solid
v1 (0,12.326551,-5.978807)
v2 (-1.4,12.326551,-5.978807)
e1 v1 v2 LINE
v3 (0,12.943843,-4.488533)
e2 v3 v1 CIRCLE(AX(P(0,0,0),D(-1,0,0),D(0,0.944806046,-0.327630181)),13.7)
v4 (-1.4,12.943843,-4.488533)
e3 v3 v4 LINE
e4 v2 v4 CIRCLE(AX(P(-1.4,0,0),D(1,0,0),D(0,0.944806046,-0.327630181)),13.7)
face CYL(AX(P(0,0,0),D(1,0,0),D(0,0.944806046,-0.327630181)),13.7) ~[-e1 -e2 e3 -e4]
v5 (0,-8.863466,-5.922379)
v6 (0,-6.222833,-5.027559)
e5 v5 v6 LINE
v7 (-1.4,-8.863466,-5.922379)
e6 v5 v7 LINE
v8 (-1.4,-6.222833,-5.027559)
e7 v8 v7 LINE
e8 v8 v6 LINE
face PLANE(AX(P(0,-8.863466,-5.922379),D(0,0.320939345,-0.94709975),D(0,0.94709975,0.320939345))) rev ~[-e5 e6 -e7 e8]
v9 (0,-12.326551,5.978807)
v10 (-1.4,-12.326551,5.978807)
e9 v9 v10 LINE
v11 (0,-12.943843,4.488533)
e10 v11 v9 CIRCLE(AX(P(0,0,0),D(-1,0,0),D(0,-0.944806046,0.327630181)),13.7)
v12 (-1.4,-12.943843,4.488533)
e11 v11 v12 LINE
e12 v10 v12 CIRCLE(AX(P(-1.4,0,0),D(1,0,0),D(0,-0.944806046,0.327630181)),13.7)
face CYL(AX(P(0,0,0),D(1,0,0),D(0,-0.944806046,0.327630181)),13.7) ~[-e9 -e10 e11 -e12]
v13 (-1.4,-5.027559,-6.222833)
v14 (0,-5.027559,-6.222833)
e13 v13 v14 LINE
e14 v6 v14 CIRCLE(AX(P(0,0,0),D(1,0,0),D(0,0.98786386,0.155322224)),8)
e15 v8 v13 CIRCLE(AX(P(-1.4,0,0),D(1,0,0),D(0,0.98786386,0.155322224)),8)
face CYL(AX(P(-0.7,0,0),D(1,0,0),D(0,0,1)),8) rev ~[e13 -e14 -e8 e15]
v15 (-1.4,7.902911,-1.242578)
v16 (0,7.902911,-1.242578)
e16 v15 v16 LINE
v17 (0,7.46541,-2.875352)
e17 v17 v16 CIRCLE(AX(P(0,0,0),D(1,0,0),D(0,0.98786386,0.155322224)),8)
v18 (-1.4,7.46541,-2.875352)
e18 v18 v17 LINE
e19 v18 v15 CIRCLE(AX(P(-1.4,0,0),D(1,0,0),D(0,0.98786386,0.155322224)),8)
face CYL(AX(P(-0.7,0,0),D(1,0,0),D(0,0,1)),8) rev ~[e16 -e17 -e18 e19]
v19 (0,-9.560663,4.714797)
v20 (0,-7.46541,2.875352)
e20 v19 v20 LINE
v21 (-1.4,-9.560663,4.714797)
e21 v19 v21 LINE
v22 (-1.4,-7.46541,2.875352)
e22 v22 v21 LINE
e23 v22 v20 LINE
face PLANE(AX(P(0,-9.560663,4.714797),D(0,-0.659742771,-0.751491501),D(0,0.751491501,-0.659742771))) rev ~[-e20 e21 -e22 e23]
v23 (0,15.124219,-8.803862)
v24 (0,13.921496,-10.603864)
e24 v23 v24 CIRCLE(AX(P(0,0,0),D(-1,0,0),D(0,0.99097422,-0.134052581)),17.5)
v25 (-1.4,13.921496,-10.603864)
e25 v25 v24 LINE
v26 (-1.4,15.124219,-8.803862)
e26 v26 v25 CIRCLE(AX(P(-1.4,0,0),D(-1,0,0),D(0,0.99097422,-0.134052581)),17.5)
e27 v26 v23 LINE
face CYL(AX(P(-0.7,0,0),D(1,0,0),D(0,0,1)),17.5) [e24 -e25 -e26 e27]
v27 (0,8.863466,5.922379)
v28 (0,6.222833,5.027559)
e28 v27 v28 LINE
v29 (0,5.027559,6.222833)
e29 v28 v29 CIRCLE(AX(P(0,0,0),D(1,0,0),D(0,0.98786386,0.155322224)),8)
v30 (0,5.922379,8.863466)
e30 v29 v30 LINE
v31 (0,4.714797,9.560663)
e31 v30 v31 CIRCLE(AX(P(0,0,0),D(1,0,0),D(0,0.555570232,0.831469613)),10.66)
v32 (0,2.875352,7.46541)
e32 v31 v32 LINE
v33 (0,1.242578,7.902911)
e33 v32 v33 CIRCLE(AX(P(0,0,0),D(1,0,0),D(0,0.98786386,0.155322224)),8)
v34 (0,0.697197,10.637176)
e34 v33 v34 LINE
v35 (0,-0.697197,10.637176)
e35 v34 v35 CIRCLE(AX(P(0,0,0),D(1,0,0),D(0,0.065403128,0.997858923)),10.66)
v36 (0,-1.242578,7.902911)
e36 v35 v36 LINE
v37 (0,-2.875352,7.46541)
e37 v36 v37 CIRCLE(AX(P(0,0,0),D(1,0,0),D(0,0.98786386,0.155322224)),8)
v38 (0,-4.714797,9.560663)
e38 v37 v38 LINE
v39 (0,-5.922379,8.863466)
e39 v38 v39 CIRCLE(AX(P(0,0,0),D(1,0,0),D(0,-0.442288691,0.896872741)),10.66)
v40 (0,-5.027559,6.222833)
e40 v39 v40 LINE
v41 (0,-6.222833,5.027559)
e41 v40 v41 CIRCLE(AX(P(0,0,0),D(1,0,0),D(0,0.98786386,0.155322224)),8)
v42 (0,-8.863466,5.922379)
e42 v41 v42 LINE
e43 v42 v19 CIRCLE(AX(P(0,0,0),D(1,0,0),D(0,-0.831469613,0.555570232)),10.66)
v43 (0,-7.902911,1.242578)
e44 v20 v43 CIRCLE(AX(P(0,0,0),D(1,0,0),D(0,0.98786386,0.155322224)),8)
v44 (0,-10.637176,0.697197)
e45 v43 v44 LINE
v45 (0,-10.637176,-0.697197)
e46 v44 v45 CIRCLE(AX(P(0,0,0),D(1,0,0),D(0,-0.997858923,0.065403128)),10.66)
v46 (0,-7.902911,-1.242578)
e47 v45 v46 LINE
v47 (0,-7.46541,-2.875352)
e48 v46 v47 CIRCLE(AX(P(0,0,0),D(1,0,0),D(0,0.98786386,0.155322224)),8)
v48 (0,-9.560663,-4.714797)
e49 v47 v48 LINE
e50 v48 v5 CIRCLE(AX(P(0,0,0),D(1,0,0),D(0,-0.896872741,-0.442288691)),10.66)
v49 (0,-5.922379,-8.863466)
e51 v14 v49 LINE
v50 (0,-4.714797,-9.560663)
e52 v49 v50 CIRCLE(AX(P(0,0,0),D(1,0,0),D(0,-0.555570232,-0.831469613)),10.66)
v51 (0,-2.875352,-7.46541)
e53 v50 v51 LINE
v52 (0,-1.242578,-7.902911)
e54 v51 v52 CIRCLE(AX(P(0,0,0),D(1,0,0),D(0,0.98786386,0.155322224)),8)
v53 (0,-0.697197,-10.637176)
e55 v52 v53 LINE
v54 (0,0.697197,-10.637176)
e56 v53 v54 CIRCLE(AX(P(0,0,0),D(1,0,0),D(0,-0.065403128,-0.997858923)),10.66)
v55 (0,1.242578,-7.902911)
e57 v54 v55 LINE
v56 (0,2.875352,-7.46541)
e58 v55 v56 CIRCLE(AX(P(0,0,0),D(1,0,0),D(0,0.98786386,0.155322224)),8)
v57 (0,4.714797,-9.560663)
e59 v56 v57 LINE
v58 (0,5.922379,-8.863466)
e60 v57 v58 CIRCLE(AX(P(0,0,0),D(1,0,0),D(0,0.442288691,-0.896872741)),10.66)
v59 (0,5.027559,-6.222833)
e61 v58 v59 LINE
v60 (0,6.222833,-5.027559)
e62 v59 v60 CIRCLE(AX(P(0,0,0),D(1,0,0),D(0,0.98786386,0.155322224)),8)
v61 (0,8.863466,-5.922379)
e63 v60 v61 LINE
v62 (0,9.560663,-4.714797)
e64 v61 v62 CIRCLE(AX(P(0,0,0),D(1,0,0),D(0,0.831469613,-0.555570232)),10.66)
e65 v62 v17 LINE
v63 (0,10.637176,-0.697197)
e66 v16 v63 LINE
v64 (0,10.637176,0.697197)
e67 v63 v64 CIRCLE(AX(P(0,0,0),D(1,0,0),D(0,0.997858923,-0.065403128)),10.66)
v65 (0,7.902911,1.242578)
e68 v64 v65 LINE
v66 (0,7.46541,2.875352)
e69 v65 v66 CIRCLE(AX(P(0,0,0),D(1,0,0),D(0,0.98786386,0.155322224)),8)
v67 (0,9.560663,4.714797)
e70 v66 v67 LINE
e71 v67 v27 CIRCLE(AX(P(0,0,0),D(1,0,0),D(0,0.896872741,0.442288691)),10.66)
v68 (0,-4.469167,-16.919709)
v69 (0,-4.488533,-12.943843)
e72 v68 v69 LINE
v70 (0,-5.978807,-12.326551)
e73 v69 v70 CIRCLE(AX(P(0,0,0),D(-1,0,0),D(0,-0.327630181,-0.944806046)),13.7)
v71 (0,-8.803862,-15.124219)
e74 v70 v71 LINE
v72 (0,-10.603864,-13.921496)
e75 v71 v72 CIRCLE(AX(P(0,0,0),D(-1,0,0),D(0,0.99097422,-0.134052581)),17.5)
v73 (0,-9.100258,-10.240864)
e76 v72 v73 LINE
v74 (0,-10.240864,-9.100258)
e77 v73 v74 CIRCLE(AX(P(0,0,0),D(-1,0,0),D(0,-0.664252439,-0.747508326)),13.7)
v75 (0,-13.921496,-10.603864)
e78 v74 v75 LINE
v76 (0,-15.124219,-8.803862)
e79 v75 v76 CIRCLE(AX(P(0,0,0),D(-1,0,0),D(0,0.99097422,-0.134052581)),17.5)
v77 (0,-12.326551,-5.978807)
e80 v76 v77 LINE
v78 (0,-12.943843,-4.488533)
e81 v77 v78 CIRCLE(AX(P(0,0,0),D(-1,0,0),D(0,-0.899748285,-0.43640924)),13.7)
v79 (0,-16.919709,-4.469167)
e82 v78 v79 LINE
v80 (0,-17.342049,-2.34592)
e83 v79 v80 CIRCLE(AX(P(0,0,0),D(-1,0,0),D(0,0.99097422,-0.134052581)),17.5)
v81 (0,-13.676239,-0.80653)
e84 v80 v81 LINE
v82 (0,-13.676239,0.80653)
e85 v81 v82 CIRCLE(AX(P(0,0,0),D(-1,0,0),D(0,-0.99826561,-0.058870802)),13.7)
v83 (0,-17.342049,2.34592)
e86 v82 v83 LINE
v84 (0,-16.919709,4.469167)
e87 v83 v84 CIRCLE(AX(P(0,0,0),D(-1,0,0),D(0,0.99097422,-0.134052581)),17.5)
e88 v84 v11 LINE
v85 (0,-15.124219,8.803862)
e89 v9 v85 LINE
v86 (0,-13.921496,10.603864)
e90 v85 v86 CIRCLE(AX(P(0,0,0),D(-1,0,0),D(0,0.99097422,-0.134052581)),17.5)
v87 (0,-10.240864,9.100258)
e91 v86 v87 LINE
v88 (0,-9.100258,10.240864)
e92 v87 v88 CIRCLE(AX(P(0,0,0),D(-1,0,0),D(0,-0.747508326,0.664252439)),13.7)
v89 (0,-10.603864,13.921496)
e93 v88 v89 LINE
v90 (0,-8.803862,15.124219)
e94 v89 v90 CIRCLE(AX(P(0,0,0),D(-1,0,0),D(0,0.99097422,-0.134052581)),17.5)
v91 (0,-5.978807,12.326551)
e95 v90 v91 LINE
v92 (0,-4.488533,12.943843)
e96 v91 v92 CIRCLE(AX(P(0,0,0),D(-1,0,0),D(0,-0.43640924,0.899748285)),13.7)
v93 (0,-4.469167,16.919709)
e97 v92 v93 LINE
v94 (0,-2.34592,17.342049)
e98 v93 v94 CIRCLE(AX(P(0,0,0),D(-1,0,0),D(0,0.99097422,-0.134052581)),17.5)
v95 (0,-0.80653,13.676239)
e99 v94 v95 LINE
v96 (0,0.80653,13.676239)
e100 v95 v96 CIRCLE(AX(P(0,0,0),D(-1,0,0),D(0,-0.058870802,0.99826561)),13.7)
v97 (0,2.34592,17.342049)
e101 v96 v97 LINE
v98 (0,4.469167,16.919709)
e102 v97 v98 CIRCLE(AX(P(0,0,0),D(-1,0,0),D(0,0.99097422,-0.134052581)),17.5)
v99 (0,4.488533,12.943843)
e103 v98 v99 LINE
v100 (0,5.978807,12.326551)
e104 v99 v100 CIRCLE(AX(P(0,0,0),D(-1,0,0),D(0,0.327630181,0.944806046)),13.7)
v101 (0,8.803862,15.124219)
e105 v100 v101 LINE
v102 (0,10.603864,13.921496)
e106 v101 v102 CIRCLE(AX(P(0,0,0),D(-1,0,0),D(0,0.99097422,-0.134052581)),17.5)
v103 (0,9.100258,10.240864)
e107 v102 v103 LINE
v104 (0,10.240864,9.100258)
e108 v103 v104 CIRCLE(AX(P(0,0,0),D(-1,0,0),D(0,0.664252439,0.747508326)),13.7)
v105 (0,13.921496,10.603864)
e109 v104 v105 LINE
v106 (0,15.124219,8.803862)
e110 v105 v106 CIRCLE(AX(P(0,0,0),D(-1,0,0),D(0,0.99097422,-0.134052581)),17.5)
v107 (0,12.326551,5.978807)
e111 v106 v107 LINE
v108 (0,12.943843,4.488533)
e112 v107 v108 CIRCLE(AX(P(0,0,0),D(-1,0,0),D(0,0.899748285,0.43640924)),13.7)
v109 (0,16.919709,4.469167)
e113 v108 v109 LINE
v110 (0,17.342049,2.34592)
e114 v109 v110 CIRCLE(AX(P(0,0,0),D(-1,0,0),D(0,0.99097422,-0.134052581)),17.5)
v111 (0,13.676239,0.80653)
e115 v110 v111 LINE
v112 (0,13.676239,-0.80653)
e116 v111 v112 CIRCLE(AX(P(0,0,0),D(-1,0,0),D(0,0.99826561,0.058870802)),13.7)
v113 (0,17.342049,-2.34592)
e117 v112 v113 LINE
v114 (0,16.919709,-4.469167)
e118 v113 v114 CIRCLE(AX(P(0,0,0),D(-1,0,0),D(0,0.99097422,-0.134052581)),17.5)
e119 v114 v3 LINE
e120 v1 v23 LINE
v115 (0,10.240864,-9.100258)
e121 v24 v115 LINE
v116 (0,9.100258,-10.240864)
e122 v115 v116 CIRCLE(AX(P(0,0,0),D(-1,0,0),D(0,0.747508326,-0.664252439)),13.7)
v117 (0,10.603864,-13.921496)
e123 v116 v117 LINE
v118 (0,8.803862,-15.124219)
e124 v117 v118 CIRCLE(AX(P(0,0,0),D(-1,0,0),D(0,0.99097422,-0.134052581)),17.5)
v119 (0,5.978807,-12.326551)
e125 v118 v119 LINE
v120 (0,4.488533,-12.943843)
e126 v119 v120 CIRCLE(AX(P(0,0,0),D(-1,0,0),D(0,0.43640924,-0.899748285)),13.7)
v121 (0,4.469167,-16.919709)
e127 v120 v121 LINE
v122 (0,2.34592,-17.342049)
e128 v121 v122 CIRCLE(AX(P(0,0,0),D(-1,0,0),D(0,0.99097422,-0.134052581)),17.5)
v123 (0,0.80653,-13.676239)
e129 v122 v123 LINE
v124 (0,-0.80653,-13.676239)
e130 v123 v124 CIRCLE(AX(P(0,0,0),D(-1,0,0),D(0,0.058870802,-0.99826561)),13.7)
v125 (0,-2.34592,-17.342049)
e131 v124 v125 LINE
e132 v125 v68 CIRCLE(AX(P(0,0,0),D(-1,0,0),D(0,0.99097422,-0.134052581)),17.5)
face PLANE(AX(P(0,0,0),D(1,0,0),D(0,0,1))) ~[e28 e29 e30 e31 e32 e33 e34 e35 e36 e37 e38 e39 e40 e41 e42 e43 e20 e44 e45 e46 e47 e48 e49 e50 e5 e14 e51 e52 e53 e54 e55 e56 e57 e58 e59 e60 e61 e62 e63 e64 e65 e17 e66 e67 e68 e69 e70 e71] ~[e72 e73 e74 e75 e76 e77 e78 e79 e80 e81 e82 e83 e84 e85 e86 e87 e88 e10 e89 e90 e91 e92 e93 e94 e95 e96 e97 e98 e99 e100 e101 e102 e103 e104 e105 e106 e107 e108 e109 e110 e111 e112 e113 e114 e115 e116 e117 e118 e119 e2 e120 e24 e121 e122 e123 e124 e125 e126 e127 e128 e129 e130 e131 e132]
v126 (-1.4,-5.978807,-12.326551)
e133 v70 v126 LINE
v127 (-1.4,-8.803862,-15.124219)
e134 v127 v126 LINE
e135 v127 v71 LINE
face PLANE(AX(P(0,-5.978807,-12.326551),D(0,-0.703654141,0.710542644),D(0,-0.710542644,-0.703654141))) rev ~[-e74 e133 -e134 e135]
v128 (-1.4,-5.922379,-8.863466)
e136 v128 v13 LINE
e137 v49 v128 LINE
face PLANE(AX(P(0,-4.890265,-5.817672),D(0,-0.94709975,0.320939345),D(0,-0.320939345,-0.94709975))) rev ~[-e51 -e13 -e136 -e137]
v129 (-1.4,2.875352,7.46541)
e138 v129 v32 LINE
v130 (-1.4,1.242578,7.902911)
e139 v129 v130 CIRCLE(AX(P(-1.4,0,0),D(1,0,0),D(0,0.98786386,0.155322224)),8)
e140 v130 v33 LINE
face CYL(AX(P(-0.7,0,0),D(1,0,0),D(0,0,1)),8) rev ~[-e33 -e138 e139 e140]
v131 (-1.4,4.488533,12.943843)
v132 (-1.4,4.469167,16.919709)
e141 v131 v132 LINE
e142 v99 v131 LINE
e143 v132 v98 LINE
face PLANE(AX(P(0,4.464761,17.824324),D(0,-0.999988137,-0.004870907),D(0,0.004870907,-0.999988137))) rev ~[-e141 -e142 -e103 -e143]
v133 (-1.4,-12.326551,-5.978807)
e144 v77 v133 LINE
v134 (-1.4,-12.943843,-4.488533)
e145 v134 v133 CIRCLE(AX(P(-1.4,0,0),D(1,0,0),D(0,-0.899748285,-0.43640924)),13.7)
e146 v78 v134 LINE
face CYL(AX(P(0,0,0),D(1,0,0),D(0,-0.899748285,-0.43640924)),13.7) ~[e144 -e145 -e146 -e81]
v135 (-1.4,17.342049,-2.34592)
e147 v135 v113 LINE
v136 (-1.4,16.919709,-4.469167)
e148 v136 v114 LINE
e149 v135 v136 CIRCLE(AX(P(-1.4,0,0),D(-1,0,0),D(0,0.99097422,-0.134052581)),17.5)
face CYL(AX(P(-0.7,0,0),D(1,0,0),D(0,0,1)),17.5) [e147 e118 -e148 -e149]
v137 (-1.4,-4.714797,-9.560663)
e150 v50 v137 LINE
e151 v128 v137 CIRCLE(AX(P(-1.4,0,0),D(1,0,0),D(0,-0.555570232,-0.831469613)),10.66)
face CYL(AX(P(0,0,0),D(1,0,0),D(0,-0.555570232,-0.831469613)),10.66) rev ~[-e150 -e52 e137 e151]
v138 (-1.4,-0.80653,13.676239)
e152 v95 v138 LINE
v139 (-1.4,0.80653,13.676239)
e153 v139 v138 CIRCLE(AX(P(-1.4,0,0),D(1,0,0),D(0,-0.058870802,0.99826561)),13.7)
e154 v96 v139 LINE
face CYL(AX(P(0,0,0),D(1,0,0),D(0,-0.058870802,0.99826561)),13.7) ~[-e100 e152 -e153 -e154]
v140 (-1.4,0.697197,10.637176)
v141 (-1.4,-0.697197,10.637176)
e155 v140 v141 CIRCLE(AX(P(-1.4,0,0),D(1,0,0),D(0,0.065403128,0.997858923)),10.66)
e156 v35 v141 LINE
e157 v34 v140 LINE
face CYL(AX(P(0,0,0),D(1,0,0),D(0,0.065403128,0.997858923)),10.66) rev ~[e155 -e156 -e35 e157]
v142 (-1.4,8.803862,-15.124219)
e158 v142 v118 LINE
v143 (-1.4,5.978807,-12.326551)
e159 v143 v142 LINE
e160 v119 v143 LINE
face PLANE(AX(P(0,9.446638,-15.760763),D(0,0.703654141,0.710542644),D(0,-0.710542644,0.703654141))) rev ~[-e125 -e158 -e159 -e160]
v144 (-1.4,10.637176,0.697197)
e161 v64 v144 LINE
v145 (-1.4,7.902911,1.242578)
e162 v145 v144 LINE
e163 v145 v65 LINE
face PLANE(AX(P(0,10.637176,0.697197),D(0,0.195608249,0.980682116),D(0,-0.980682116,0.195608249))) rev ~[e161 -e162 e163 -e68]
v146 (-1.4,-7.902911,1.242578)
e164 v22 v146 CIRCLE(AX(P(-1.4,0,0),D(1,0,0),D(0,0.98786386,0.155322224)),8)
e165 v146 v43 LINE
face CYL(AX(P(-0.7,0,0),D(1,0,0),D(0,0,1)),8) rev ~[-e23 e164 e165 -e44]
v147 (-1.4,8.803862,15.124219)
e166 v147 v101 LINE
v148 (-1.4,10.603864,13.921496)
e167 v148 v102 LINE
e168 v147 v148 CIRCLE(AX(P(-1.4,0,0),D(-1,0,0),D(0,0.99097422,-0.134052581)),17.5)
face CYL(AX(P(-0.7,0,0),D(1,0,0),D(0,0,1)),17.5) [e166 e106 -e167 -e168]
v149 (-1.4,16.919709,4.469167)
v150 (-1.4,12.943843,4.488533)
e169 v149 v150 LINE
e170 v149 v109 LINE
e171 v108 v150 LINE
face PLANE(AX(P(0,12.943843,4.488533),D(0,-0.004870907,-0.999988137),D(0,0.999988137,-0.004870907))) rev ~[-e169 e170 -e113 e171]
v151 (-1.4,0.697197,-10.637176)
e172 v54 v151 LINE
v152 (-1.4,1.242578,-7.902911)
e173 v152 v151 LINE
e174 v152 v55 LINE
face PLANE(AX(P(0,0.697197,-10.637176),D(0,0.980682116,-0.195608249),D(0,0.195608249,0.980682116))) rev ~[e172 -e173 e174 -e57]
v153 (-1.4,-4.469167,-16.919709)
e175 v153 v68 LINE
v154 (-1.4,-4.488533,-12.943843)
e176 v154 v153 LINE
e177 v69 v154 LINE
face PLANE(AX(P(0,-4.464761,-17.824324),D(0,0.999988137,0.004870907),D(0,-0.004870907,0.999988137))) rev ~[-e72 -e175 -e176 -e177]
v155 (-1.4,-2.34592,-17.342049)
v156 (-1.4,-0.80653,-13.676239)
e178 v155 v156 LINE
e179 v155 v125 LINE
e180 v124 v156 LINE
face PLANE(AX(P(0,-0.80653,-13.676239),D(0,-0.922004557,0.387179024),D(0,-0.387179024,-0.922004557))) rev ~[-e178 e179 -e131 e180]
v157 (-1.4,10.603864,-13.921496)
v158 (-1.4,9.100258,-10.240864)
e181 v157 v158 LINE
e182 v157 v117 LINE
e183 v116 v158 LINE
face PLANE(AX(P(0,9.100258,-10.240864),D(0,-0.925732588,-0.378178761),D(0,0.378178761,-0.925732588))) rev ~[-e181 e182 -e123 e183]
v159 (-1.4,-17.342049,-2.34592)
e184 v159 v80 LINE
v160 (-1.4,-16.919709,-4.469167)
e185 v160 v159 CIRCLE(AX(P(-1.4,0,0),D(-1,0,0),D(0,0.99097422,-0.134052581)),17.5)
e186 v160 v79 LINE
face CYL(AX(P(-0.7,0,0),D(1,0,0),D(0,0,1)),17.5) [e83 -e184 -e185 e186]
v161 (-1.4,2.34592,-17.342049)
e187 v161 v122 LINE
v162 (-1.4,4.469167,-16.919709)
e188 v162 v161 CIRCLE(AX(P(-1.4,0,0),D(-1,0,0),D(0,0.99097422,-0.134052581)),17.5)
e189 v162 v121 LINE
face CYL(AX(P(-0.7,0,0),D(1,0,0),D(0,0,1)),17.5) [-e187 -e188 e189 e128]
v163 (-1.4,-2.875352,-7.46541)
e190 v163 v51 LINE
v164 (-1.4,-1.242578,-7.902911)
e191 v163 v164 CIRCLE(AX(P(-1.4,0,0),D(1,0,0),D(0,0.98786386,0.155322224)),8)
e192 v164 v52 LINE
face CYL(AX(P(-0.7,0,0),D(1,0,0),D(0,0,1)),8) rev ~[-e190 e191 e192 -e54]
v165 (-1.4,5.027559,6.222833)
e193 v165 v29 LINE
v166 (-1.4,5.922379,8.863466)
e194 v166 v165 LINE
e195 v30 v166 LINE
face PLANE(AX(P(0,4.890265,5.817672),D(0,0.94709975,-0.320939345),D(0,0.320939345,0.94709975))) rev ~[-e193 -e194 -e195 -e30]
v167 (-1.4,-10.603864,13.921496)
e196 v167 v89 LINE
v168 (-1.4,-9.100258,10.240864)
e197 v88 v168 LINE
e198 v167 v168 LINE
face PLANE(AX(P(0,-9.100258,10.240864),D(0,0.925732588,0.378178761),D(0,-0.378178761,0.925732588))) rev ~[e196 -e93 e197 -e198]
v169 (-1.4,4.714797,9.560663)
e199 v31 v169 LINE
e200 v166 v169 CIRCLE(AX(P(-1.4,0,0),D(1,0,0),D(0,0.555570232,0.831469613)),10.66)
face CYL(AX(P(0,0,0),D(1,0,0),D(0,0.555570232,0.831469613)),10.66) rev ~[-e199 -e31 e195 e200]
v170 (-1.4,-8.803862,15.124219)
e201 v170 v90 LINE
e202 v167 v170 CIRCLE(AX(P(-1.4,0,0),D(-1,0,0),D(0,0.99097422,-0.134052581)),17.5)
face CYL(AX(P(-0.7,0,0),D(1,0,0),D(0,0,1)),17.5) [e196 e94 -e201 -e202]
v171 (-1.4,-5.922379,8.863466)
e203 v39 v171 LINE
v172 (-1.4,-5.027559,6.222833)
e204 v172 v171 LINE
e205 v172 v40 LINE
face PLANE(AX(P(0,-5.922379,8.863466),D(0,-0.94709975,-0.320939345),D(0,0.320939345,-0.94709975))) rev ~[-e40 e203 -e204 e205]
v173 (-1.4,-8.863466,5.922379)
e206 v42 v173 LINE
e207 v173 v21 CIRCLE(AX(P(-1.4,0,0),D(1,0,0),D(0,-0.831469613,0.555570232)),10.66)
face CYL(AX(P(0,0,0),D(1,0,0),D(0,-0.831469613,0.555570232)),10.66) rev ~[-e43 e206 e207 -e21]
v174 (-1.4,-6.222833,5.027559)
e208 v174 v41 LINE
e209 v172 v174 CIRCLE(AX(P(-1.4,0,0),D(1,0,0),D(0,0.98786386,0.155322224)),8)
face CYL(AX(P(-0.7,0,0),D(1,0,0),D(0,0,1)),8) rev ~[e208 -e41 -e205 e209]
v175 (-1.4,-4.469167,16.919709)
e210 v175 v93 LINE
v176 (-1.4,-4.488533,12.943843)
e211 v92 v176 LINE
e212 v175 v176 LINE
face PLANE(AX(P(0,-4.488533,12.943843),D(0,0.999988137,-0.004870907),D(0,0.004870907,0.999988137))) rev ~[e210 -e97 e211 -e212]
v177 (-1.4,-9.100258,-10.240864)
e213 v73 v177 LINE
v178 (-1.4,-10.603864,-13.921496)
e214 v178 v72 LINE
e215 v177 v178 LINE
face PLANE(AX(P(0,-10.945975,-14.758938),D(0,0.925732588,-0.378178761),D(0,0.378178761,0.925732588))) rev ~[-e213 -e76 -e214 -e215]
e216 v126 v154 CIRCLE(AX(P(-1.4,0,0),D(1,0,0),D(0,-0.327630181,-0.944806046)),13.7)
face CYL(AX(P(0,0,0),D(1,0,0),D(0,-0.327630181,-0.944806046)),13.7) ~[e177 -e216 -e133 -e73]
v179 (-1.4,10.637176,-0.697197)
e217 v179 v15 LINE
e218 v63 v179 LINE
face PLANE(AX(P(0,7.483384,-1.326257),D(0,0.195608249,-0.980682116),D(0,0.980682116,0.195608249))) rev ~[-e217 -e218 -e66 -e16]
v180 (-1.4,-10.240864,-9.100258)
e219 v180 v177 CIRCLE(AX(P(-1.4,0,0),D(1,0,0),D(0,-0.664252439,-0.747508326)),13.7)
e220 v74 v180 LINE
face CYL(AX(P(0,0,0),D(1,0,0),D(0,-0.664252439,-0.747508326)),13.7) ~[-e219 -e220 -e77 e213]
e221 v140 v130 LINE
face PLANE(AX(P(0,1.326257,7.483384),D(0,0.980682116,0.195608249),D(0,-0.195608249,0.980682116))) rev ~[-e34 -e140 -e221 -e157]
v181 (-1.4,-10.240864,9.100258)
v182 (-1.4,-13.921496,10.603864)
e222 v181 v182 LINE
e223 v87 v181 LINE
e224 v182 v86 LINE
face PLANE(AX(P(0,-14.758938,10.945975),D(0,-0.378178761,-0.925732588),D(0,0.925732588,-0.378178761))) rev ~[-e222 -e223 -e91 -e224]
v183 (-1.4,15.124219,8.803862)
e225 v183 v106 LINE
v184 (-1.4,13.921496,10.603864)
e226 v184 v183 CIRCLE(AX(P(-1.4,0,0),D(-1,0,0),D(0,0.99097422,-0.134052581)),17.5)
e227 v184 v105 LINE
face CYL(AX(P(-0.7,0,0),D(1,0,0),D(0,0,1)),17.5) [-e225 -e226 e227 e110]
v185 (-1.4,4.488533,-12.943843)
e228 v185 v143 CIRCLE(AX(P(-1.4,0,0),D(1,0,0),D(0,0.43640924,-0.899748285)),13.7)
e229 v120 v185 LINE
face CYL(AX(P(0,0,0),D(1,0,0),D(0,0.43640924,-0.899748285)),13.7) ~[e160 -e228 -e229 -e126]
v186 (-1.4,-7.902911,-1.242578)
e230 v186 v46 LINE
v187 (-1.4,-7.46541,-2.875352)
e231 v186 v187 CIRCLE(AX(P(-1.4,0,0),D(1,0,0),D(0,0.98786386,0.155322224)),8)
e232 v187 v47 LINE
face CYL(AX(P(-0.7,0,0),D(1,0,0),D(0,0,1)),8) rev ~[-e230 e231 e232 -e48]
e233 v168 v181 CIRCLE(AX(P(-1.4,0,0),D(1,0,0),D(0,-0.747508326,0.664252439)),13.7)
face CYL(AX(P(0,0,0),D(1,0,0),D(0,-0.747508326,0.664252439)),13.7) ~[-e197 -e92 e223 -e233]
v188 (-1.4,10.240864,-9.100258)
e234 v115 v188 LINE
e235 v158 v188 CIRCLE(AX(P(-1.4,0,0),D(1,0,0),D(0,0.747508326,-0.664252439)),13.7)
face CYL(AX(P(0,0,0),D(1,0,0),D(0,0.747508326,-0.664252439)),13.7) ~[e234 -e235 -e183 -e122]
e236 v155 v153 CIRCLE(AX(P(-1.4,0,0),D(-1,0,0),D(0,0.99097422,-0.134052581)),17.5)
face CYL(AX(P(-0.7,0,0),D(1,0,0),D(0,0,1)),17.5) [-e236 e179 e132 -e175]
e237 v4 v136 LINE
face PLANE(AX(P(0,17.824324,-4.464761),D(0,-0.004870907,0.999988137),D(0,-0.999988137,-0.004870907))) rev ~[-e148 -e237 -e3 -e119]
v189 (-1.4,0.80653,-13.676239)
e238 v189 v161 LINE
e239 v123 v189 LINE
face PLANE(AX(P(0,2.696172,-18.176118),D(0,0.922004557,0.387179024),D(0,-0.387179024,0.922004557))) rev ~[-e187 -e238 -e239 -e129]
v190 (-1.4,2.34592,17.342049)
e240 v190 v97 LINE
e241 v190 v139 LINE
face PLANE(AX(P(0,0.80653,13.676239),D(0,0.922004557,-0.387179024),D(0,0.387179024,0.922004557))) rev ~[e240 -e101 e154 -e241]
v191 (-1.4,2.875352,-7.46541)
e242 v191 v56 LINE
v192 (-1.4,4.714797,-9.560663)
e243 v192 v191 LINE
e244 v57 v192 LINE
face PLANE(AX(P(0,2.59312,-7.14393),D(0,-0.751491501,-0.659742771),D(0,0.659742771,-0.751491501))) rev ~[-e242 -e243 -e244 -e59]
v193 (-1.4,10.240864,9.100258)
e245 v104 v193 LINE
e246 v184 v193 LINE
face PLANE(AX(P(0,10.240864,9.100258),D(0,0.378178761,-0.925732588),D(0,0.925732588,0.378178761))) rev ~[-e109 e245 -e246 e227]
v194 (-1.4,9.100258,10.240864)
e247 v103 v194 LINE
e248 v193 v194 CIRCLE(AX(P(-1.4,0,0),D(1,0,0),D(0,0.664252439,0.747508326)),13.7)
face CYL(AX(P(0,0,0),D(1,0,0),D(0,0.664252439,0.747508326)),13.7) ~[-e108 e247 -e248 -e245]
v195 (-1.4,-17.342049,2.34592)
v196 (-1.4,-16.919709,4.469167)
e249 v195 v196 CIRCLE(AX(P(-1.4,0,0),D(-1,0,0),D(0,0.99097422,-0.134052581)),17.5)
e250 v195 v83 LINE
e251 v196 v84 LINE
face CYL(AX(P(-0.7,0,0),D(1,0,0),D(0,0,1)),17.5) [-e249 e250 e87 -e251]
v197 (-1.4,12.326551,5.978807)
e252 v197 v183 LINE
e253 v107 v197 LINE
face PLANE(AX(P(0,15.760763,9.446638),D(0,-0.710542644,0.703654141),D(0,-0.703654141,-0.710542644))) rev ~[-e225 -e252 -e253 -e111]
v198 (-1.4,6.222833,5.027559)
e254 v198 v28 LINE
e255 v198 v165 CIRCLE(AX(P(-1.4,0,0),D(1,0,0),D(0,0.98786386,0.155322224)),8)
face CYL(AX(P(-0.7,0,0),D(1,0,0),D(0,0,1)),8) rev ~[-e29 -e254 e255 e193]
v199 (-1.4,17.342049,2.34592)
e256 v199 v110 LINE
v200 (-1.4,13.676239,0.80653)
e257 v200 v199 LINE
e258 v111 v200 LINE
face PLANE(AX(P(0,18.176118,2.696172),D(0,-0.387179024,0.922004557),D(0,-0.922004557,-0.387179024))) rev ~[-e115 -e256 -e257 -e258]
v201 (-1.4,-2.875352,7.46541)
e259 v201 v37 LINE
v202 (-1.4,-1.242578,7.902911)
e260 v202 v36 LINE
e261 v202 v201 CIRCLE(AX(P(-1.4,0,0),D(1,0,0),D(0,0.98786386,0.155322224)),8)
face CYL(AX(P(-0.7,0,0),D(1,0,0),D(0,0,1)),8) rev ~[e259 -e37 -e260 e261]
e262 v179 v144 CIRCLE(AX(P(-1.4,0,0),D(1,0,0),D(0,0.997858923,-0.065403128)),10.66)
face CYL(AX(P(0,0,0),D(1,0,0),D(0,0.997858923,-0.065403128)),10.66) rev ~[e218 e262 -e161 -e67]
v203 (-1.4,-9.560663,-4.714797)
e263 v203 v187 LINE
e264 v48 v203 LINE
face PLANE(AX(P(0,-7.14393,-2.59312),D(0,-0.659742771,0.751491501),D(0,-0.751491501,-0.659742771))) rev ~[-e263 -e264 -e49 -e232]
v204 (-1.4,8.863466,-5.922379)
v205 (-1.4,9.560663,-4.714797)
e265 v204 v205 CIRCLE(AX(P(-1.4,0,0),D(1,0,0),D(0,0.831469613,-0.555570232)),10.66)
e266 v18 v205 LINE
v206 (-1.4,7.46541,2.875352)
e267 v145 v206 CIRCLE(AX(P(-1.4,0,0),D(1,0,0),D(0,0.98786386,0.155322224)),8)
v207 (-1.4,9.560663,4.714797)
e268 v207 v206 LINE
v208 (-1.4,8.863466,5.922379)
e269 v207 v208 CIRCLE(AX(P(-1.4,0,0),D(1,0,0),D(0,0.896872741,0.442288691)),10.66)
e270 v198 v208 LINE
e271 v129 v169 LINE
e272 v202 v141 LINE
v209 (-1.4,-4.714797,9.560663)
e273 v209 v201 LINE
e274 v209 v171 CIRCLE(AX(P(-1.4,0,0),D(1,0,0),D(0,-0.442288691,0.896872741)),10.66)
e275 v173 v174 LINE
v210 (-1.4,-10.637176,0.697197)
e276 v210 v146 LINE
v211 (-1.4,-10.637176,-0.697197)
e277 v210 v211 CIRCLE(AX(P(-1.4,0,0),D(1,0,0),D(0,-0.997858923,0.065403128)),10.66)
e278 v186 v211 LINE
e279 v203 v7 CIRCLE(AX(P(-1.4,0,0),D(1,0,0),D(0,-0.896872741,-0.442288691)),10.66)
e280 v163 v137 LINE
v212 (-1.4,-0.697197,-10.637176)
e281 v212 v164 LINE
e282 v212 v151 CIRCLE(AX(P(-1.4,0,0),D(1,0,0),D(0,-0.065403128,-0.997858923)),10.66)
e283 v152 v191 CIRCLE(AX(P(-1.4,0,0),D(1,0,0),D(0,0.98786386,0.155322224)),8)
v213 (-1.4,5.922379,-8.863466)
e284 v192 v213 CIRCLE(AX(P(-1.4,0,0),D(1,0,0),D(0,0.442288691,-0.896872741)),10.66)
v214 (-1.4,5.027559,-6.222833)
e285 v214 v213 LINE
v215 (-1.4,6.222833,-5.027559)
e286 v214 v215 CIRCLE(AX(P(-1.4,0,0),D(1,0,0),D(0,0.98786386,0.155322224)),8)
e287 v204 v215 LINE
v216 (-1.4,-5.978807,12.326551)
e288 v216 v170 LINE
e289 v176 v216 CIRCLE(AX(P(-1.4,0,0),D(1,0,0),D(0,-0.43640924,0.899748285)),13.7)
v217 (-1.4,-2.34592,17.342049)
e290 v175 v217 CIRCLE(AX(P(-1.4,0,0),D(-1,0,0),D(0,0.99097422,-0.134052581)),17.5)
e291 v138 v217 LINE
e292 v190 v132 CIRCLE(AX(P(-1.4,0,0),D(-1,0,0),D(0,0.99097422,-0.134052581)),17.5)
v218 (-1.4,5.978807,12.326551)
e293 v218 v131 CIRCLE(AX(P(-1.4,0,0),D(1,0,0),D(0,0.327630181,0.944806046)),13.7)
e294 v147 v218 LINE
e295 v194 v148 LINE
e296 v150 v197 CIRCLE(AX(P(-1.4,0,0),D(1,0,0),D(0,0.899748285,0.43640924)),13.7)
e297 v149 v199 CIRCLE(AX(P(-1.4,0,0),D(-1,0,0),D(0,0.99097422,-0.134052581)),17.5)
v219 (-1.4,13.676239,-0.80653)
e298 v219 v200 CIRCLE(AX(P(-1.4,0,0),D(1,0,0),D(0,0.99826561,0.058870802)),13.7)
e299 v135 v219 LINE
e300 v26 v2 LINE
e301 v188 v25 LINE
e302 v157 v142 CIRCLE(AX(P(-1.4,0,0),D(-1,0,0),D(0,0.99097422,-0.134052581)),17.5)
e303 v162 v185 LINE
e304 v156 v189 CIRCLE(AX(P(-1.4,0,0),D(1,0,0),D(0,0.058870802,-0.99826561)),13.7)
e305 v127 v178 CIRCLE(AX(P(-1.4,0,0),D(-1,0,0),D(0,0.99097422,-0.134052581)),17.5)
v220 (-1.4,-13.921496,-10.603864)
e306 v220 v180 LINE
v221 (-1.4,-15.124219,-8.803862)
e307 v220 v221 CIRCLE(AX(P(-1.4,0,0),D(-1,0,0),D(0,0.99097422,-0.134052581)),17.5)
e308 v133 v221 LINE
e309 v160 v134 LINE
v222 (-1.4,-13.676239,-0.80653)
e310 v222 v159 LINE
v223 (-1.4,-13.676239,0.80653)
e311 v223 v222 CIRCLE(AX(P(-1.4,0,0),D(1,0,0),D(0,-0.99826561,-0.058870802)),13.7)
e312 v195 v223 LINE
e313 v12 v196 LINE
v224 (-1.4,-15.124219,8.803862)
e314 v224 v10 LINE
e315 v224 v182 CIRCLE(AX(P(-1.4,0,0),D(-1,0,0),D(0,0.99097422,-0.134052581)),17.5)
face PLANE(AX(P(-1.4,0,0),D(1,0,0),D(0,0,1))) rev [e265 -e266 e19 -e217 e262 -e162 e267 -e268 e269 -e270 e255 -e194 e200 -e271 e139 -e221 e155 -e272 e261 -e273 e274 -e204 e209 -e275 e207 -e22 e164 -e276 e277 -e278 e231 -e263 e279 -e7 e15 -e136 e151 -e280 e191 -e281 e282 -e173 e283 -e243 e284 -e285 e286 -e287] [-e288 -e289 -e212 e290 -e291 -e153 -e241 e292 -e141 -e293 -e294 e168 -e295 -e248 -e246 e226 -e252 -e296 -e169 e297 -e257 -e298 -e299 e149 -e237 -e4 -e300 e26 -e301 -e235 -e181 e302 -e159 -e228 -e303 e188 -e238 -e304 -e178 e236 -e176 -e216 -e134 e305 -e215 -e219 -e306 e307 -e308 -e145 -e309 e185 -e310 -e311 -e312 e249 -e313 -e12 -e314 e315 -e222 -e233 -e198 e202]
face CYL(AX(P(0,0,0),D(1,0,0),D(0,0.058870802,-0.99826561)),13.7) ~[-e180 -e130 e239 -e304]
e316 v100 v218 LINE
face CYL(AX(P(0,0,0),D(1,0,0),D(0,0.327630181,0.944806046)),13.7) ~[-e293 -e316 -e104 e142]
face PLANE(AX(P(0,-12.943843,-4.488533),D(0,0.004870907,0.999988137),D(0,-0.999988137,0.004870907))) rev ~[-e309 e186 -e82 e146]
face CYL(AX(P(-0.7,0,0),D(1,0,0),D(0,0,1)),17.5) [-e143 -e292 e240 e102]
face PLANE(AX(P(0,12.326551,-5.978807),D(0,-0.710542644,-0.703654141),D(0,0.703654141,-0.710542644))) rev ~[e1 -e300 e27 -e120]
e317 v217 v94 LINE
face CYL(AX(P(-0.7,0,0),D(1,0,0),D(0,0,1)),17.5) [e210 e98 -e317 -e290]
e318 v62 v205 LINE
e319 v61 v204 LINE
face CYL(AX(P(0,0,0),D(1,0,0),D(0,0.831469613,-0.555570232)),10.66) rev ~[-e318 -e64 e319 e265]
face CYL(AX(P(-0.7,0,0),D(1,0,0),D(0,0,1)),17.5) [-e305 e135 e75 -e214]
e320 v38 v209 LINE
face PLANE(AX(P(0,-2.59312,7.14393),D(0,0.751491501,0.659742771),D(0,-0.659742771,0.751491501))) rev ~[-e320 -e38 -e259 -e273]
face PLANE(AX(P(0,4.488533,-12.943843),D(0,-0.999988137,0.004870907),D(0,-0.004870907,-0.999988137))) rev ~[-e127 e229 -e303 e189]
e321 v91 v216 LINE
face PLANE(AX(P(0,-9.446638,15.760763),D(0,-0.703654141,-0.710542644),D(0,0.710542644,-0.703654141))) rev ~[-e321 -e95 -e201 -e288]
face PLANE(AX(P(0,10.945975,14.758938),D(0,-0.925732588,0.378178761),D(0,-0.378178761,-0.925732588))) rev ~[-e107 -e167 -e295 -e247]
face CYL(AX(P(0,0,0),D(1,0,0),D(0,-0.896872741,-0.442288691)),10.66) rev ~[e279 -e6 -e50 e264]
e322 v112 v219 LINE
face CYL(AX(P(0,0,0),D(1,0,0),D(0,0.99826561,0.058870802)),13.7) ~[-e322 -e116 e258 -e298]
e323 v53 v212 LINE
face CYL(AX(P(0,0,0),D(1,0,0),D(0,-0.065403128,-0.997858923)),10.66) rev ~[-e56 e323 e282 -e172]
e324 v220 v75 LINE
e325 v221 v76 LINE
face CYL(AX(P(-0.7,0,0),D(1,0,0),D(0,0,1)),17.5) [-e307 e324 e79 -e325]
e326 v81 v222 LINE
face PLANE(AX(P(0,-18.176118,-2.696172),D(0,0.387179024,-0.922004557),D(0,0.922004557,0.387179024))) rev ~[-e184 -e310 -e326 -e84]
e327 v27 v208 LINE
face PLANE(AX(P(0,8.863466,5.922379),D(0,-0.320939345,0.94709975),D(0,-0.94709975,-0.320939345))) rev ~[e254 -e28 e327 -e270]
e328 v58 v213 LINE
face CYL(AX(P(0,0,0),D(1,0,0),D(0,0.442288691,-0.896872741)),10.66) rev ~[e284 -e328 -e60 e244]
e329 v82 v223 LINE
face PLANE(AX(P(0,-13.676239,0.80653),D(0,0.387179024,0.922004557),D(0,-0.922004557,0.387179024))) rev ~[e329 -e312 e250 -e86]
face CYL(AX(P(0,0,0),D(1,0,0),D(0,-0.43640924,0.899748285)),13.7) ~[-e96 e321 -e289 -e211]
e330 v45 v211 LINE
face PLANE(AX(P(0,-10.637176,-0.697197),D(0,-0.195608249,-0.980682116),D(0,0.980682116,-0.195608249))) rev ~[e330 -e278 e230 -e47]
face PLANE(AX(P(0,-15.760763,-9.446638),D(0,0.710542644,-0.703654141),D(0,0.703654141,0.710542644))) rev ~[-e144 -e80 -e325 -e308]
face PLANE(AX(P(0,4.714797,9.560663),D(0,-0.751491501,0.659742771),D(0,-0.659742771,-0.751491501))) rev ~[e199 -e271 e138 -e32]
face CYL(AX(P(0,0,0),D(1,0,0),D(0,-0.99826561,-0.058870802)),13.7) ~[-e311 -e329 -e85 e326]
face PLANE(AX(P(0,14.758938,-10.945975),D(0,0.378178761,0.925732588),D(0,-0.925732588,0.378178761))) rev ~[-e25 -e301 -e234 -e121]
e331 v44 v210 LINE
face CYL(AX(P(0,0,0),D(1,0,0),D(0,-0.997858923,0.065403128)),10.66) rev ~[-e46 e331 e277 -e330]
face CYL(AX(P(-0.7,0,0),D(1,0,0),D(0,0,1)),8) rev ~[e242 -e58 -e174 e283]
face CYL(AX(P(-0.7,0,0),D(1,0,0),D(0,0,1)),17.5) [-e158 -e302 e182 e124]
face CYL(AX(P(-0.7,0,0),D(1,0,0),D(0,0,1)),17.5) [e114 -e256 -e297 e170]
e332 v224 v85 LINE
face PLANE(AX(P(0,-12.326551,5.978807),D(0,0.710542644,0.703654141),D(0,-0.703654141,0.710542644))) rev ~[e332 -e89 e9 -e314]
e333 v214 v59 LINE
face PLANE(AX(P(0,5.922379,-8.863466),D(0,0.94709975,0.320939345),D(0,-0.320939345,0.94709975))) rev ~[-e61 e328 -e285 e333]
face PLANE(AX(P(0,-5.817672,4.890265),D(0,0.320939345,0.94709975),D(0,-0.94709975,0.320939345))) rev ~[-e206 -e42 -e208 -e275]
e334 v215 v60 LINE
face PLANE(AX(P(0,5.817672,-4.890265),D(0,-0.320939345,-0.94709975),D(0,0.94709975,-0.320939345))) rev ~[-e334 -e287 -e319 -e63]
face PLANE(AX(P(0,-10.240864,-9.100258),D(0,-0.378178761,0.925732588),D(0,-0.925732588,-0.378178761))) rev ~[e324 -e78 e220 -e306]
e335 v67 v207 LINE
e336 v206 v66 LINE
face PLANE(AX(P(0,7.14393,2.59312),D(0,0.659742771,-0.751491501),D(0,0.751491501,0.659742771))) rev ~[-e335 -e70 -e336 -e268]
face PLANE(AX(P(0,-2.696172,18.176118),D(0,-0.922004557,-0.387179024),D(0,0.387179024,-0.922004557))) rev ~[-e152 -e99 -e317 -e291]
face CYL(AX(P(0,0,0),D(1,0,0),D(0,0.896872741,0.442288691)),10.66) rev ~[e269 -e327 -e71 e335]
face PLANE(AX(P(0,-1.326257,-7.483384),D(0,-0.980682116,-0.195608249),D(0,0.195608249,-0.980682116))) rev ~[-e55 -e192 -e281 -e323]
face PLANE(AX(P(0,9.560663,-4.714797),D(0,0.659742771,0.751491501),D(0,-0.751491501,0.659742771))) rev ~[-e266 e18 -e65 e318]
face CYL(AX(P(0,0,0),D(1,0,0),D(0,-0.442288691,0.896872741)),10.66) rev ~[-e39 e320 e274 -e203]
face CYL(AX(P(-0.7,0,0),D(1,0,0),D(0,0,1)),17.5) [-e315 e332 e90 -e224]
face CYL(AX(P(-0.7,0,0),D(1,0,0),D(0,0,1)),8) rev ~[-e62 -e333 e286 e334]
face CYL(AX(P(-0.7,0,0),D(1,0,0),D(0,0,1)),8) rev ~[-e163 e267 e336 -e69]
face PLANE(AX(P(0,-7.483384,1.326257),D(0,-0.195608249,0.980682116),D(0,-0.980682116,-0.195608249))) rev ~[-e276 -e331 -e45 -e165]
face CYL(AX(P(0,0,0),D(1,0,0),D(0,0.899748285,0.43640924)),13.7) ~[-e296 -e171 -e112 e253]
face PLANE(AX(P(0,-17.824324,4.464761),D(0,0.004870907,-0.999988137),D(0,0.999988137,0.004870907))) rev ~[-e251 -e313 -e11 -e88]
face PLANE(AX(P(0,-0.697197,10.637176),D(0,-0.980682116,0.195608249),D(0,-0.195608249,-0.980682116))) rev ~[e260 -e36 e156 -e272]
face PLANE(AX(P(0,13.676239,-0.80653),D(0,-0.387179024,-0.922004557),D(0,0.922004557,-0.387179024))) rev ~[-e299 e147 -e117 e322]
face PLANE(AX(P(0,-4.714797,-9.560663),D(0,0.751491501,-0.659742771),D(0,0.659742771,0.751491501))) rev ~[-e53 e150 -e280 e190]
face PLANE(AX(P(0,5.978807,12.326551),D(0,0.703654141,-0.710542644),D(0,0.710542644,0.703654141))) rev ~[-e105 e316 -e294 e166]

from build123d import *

# Parameters (mm, degrees)
SECSKE_W      = 1.4
SECSKE_H      = 9.5
EXTCUT_DEPTH  = 25.788303693
EXTCUTS_COUNT = 16
EXTCUTS_ANGLE = 337.5
INTCUT_DEPTH  = 25.565286833
INTCUTS_COUNT = 12
INTCUTS_ANGLE = 330


with BuildPart() as part:
    # SecSke → Body (revolve)
    with BuildSketch(Plane.XY, mode=Mode.PRIVATE) as body_sk:
        with Locations((-0.7, 12.75)):
            Rectangle(SECSKE_W, SECSKE_H)
    revolve(body_sk.sketch.rotate(Axis((-34.925, 0, 0), (1, 0, 0)), 90), axis=Axis((-34.925, 0, 0), (1, 0, 0)))

    # ExtCutSke → ExtCut (cut, through all)
    with BuildSketch(Plane(origin=(0, 0, 0), x_dir=(0, 0, -1), z_dir=(1, 0, 0))):
        with BuildLine():
            Line((-2.696172468, 18.176118371), (-0.80653001, 13.67623886))
            ThreePointArc((-0.80653001, 13.67623886), (0, 13.7), (0.80653001, 13.67623886))
            Line((0.80653001, 13.67623886), (2.696172468, 18.176118371))
            ThreePointArc((2.696172468, 18.176118371), (0, 18.375), (-2.696172468, 18.176118371))
        make_face()
    extcut = extrude(amount=-EXTCUT_DEPTH, mode=Mode.SUBTRACT)

    # ExtCuts: ExtCut ×16 about axis
    extcuts_axis = Axis((-34.925, 0, 0), (1, 0, 0))
    for i in range(1, EXTCUTS_COUNT):
        add(extcut.rotate(extcuts_axis, i * EXTCUTS_ANGLE / (EXTCUTS_COUNT - 1)), mode=Mode.SUBTRACT)

    # IntCutSke → IntCut (cut, through all)
    with BuildSketch(Plane(origin=(0, 0, 0), x_dir=(0, 0, -1), z_dir=(1, 0, 0))):
        with BuildLine():
            Line((-0.697197358, 10.637176122), (-1.326257139, 7.483384395))
            ThreePointArc((-1.326257139, 7.483384395), (0, 7.6), (1.326257139, 7.483384395))
            Line((1.326257139, 7.483384395), (0.697197358, 10.637176122))
            ThreePointArc((0.697197358, 10.637176122), (0, 10.66), (-0.697197358, 10.637176122))
        make_face()
    intcut = extrude(amount=-INTCUT_DEPTH, mode=Mode.SUBTRACT)

    # IntCuts: IntCut ×12 about axis
    intcuts_axis = Axis((-34.925, 0, 0), (1, 0, 0))
    for i in range(1, INTCUTS_COUNT):
        add(intcut.rotate(intcuts_axis, i * INTCUTS_ANGLE / (INTCUTS_COUNT - 1)), mode=Mode.SUBTRACT)


solid = part.part
